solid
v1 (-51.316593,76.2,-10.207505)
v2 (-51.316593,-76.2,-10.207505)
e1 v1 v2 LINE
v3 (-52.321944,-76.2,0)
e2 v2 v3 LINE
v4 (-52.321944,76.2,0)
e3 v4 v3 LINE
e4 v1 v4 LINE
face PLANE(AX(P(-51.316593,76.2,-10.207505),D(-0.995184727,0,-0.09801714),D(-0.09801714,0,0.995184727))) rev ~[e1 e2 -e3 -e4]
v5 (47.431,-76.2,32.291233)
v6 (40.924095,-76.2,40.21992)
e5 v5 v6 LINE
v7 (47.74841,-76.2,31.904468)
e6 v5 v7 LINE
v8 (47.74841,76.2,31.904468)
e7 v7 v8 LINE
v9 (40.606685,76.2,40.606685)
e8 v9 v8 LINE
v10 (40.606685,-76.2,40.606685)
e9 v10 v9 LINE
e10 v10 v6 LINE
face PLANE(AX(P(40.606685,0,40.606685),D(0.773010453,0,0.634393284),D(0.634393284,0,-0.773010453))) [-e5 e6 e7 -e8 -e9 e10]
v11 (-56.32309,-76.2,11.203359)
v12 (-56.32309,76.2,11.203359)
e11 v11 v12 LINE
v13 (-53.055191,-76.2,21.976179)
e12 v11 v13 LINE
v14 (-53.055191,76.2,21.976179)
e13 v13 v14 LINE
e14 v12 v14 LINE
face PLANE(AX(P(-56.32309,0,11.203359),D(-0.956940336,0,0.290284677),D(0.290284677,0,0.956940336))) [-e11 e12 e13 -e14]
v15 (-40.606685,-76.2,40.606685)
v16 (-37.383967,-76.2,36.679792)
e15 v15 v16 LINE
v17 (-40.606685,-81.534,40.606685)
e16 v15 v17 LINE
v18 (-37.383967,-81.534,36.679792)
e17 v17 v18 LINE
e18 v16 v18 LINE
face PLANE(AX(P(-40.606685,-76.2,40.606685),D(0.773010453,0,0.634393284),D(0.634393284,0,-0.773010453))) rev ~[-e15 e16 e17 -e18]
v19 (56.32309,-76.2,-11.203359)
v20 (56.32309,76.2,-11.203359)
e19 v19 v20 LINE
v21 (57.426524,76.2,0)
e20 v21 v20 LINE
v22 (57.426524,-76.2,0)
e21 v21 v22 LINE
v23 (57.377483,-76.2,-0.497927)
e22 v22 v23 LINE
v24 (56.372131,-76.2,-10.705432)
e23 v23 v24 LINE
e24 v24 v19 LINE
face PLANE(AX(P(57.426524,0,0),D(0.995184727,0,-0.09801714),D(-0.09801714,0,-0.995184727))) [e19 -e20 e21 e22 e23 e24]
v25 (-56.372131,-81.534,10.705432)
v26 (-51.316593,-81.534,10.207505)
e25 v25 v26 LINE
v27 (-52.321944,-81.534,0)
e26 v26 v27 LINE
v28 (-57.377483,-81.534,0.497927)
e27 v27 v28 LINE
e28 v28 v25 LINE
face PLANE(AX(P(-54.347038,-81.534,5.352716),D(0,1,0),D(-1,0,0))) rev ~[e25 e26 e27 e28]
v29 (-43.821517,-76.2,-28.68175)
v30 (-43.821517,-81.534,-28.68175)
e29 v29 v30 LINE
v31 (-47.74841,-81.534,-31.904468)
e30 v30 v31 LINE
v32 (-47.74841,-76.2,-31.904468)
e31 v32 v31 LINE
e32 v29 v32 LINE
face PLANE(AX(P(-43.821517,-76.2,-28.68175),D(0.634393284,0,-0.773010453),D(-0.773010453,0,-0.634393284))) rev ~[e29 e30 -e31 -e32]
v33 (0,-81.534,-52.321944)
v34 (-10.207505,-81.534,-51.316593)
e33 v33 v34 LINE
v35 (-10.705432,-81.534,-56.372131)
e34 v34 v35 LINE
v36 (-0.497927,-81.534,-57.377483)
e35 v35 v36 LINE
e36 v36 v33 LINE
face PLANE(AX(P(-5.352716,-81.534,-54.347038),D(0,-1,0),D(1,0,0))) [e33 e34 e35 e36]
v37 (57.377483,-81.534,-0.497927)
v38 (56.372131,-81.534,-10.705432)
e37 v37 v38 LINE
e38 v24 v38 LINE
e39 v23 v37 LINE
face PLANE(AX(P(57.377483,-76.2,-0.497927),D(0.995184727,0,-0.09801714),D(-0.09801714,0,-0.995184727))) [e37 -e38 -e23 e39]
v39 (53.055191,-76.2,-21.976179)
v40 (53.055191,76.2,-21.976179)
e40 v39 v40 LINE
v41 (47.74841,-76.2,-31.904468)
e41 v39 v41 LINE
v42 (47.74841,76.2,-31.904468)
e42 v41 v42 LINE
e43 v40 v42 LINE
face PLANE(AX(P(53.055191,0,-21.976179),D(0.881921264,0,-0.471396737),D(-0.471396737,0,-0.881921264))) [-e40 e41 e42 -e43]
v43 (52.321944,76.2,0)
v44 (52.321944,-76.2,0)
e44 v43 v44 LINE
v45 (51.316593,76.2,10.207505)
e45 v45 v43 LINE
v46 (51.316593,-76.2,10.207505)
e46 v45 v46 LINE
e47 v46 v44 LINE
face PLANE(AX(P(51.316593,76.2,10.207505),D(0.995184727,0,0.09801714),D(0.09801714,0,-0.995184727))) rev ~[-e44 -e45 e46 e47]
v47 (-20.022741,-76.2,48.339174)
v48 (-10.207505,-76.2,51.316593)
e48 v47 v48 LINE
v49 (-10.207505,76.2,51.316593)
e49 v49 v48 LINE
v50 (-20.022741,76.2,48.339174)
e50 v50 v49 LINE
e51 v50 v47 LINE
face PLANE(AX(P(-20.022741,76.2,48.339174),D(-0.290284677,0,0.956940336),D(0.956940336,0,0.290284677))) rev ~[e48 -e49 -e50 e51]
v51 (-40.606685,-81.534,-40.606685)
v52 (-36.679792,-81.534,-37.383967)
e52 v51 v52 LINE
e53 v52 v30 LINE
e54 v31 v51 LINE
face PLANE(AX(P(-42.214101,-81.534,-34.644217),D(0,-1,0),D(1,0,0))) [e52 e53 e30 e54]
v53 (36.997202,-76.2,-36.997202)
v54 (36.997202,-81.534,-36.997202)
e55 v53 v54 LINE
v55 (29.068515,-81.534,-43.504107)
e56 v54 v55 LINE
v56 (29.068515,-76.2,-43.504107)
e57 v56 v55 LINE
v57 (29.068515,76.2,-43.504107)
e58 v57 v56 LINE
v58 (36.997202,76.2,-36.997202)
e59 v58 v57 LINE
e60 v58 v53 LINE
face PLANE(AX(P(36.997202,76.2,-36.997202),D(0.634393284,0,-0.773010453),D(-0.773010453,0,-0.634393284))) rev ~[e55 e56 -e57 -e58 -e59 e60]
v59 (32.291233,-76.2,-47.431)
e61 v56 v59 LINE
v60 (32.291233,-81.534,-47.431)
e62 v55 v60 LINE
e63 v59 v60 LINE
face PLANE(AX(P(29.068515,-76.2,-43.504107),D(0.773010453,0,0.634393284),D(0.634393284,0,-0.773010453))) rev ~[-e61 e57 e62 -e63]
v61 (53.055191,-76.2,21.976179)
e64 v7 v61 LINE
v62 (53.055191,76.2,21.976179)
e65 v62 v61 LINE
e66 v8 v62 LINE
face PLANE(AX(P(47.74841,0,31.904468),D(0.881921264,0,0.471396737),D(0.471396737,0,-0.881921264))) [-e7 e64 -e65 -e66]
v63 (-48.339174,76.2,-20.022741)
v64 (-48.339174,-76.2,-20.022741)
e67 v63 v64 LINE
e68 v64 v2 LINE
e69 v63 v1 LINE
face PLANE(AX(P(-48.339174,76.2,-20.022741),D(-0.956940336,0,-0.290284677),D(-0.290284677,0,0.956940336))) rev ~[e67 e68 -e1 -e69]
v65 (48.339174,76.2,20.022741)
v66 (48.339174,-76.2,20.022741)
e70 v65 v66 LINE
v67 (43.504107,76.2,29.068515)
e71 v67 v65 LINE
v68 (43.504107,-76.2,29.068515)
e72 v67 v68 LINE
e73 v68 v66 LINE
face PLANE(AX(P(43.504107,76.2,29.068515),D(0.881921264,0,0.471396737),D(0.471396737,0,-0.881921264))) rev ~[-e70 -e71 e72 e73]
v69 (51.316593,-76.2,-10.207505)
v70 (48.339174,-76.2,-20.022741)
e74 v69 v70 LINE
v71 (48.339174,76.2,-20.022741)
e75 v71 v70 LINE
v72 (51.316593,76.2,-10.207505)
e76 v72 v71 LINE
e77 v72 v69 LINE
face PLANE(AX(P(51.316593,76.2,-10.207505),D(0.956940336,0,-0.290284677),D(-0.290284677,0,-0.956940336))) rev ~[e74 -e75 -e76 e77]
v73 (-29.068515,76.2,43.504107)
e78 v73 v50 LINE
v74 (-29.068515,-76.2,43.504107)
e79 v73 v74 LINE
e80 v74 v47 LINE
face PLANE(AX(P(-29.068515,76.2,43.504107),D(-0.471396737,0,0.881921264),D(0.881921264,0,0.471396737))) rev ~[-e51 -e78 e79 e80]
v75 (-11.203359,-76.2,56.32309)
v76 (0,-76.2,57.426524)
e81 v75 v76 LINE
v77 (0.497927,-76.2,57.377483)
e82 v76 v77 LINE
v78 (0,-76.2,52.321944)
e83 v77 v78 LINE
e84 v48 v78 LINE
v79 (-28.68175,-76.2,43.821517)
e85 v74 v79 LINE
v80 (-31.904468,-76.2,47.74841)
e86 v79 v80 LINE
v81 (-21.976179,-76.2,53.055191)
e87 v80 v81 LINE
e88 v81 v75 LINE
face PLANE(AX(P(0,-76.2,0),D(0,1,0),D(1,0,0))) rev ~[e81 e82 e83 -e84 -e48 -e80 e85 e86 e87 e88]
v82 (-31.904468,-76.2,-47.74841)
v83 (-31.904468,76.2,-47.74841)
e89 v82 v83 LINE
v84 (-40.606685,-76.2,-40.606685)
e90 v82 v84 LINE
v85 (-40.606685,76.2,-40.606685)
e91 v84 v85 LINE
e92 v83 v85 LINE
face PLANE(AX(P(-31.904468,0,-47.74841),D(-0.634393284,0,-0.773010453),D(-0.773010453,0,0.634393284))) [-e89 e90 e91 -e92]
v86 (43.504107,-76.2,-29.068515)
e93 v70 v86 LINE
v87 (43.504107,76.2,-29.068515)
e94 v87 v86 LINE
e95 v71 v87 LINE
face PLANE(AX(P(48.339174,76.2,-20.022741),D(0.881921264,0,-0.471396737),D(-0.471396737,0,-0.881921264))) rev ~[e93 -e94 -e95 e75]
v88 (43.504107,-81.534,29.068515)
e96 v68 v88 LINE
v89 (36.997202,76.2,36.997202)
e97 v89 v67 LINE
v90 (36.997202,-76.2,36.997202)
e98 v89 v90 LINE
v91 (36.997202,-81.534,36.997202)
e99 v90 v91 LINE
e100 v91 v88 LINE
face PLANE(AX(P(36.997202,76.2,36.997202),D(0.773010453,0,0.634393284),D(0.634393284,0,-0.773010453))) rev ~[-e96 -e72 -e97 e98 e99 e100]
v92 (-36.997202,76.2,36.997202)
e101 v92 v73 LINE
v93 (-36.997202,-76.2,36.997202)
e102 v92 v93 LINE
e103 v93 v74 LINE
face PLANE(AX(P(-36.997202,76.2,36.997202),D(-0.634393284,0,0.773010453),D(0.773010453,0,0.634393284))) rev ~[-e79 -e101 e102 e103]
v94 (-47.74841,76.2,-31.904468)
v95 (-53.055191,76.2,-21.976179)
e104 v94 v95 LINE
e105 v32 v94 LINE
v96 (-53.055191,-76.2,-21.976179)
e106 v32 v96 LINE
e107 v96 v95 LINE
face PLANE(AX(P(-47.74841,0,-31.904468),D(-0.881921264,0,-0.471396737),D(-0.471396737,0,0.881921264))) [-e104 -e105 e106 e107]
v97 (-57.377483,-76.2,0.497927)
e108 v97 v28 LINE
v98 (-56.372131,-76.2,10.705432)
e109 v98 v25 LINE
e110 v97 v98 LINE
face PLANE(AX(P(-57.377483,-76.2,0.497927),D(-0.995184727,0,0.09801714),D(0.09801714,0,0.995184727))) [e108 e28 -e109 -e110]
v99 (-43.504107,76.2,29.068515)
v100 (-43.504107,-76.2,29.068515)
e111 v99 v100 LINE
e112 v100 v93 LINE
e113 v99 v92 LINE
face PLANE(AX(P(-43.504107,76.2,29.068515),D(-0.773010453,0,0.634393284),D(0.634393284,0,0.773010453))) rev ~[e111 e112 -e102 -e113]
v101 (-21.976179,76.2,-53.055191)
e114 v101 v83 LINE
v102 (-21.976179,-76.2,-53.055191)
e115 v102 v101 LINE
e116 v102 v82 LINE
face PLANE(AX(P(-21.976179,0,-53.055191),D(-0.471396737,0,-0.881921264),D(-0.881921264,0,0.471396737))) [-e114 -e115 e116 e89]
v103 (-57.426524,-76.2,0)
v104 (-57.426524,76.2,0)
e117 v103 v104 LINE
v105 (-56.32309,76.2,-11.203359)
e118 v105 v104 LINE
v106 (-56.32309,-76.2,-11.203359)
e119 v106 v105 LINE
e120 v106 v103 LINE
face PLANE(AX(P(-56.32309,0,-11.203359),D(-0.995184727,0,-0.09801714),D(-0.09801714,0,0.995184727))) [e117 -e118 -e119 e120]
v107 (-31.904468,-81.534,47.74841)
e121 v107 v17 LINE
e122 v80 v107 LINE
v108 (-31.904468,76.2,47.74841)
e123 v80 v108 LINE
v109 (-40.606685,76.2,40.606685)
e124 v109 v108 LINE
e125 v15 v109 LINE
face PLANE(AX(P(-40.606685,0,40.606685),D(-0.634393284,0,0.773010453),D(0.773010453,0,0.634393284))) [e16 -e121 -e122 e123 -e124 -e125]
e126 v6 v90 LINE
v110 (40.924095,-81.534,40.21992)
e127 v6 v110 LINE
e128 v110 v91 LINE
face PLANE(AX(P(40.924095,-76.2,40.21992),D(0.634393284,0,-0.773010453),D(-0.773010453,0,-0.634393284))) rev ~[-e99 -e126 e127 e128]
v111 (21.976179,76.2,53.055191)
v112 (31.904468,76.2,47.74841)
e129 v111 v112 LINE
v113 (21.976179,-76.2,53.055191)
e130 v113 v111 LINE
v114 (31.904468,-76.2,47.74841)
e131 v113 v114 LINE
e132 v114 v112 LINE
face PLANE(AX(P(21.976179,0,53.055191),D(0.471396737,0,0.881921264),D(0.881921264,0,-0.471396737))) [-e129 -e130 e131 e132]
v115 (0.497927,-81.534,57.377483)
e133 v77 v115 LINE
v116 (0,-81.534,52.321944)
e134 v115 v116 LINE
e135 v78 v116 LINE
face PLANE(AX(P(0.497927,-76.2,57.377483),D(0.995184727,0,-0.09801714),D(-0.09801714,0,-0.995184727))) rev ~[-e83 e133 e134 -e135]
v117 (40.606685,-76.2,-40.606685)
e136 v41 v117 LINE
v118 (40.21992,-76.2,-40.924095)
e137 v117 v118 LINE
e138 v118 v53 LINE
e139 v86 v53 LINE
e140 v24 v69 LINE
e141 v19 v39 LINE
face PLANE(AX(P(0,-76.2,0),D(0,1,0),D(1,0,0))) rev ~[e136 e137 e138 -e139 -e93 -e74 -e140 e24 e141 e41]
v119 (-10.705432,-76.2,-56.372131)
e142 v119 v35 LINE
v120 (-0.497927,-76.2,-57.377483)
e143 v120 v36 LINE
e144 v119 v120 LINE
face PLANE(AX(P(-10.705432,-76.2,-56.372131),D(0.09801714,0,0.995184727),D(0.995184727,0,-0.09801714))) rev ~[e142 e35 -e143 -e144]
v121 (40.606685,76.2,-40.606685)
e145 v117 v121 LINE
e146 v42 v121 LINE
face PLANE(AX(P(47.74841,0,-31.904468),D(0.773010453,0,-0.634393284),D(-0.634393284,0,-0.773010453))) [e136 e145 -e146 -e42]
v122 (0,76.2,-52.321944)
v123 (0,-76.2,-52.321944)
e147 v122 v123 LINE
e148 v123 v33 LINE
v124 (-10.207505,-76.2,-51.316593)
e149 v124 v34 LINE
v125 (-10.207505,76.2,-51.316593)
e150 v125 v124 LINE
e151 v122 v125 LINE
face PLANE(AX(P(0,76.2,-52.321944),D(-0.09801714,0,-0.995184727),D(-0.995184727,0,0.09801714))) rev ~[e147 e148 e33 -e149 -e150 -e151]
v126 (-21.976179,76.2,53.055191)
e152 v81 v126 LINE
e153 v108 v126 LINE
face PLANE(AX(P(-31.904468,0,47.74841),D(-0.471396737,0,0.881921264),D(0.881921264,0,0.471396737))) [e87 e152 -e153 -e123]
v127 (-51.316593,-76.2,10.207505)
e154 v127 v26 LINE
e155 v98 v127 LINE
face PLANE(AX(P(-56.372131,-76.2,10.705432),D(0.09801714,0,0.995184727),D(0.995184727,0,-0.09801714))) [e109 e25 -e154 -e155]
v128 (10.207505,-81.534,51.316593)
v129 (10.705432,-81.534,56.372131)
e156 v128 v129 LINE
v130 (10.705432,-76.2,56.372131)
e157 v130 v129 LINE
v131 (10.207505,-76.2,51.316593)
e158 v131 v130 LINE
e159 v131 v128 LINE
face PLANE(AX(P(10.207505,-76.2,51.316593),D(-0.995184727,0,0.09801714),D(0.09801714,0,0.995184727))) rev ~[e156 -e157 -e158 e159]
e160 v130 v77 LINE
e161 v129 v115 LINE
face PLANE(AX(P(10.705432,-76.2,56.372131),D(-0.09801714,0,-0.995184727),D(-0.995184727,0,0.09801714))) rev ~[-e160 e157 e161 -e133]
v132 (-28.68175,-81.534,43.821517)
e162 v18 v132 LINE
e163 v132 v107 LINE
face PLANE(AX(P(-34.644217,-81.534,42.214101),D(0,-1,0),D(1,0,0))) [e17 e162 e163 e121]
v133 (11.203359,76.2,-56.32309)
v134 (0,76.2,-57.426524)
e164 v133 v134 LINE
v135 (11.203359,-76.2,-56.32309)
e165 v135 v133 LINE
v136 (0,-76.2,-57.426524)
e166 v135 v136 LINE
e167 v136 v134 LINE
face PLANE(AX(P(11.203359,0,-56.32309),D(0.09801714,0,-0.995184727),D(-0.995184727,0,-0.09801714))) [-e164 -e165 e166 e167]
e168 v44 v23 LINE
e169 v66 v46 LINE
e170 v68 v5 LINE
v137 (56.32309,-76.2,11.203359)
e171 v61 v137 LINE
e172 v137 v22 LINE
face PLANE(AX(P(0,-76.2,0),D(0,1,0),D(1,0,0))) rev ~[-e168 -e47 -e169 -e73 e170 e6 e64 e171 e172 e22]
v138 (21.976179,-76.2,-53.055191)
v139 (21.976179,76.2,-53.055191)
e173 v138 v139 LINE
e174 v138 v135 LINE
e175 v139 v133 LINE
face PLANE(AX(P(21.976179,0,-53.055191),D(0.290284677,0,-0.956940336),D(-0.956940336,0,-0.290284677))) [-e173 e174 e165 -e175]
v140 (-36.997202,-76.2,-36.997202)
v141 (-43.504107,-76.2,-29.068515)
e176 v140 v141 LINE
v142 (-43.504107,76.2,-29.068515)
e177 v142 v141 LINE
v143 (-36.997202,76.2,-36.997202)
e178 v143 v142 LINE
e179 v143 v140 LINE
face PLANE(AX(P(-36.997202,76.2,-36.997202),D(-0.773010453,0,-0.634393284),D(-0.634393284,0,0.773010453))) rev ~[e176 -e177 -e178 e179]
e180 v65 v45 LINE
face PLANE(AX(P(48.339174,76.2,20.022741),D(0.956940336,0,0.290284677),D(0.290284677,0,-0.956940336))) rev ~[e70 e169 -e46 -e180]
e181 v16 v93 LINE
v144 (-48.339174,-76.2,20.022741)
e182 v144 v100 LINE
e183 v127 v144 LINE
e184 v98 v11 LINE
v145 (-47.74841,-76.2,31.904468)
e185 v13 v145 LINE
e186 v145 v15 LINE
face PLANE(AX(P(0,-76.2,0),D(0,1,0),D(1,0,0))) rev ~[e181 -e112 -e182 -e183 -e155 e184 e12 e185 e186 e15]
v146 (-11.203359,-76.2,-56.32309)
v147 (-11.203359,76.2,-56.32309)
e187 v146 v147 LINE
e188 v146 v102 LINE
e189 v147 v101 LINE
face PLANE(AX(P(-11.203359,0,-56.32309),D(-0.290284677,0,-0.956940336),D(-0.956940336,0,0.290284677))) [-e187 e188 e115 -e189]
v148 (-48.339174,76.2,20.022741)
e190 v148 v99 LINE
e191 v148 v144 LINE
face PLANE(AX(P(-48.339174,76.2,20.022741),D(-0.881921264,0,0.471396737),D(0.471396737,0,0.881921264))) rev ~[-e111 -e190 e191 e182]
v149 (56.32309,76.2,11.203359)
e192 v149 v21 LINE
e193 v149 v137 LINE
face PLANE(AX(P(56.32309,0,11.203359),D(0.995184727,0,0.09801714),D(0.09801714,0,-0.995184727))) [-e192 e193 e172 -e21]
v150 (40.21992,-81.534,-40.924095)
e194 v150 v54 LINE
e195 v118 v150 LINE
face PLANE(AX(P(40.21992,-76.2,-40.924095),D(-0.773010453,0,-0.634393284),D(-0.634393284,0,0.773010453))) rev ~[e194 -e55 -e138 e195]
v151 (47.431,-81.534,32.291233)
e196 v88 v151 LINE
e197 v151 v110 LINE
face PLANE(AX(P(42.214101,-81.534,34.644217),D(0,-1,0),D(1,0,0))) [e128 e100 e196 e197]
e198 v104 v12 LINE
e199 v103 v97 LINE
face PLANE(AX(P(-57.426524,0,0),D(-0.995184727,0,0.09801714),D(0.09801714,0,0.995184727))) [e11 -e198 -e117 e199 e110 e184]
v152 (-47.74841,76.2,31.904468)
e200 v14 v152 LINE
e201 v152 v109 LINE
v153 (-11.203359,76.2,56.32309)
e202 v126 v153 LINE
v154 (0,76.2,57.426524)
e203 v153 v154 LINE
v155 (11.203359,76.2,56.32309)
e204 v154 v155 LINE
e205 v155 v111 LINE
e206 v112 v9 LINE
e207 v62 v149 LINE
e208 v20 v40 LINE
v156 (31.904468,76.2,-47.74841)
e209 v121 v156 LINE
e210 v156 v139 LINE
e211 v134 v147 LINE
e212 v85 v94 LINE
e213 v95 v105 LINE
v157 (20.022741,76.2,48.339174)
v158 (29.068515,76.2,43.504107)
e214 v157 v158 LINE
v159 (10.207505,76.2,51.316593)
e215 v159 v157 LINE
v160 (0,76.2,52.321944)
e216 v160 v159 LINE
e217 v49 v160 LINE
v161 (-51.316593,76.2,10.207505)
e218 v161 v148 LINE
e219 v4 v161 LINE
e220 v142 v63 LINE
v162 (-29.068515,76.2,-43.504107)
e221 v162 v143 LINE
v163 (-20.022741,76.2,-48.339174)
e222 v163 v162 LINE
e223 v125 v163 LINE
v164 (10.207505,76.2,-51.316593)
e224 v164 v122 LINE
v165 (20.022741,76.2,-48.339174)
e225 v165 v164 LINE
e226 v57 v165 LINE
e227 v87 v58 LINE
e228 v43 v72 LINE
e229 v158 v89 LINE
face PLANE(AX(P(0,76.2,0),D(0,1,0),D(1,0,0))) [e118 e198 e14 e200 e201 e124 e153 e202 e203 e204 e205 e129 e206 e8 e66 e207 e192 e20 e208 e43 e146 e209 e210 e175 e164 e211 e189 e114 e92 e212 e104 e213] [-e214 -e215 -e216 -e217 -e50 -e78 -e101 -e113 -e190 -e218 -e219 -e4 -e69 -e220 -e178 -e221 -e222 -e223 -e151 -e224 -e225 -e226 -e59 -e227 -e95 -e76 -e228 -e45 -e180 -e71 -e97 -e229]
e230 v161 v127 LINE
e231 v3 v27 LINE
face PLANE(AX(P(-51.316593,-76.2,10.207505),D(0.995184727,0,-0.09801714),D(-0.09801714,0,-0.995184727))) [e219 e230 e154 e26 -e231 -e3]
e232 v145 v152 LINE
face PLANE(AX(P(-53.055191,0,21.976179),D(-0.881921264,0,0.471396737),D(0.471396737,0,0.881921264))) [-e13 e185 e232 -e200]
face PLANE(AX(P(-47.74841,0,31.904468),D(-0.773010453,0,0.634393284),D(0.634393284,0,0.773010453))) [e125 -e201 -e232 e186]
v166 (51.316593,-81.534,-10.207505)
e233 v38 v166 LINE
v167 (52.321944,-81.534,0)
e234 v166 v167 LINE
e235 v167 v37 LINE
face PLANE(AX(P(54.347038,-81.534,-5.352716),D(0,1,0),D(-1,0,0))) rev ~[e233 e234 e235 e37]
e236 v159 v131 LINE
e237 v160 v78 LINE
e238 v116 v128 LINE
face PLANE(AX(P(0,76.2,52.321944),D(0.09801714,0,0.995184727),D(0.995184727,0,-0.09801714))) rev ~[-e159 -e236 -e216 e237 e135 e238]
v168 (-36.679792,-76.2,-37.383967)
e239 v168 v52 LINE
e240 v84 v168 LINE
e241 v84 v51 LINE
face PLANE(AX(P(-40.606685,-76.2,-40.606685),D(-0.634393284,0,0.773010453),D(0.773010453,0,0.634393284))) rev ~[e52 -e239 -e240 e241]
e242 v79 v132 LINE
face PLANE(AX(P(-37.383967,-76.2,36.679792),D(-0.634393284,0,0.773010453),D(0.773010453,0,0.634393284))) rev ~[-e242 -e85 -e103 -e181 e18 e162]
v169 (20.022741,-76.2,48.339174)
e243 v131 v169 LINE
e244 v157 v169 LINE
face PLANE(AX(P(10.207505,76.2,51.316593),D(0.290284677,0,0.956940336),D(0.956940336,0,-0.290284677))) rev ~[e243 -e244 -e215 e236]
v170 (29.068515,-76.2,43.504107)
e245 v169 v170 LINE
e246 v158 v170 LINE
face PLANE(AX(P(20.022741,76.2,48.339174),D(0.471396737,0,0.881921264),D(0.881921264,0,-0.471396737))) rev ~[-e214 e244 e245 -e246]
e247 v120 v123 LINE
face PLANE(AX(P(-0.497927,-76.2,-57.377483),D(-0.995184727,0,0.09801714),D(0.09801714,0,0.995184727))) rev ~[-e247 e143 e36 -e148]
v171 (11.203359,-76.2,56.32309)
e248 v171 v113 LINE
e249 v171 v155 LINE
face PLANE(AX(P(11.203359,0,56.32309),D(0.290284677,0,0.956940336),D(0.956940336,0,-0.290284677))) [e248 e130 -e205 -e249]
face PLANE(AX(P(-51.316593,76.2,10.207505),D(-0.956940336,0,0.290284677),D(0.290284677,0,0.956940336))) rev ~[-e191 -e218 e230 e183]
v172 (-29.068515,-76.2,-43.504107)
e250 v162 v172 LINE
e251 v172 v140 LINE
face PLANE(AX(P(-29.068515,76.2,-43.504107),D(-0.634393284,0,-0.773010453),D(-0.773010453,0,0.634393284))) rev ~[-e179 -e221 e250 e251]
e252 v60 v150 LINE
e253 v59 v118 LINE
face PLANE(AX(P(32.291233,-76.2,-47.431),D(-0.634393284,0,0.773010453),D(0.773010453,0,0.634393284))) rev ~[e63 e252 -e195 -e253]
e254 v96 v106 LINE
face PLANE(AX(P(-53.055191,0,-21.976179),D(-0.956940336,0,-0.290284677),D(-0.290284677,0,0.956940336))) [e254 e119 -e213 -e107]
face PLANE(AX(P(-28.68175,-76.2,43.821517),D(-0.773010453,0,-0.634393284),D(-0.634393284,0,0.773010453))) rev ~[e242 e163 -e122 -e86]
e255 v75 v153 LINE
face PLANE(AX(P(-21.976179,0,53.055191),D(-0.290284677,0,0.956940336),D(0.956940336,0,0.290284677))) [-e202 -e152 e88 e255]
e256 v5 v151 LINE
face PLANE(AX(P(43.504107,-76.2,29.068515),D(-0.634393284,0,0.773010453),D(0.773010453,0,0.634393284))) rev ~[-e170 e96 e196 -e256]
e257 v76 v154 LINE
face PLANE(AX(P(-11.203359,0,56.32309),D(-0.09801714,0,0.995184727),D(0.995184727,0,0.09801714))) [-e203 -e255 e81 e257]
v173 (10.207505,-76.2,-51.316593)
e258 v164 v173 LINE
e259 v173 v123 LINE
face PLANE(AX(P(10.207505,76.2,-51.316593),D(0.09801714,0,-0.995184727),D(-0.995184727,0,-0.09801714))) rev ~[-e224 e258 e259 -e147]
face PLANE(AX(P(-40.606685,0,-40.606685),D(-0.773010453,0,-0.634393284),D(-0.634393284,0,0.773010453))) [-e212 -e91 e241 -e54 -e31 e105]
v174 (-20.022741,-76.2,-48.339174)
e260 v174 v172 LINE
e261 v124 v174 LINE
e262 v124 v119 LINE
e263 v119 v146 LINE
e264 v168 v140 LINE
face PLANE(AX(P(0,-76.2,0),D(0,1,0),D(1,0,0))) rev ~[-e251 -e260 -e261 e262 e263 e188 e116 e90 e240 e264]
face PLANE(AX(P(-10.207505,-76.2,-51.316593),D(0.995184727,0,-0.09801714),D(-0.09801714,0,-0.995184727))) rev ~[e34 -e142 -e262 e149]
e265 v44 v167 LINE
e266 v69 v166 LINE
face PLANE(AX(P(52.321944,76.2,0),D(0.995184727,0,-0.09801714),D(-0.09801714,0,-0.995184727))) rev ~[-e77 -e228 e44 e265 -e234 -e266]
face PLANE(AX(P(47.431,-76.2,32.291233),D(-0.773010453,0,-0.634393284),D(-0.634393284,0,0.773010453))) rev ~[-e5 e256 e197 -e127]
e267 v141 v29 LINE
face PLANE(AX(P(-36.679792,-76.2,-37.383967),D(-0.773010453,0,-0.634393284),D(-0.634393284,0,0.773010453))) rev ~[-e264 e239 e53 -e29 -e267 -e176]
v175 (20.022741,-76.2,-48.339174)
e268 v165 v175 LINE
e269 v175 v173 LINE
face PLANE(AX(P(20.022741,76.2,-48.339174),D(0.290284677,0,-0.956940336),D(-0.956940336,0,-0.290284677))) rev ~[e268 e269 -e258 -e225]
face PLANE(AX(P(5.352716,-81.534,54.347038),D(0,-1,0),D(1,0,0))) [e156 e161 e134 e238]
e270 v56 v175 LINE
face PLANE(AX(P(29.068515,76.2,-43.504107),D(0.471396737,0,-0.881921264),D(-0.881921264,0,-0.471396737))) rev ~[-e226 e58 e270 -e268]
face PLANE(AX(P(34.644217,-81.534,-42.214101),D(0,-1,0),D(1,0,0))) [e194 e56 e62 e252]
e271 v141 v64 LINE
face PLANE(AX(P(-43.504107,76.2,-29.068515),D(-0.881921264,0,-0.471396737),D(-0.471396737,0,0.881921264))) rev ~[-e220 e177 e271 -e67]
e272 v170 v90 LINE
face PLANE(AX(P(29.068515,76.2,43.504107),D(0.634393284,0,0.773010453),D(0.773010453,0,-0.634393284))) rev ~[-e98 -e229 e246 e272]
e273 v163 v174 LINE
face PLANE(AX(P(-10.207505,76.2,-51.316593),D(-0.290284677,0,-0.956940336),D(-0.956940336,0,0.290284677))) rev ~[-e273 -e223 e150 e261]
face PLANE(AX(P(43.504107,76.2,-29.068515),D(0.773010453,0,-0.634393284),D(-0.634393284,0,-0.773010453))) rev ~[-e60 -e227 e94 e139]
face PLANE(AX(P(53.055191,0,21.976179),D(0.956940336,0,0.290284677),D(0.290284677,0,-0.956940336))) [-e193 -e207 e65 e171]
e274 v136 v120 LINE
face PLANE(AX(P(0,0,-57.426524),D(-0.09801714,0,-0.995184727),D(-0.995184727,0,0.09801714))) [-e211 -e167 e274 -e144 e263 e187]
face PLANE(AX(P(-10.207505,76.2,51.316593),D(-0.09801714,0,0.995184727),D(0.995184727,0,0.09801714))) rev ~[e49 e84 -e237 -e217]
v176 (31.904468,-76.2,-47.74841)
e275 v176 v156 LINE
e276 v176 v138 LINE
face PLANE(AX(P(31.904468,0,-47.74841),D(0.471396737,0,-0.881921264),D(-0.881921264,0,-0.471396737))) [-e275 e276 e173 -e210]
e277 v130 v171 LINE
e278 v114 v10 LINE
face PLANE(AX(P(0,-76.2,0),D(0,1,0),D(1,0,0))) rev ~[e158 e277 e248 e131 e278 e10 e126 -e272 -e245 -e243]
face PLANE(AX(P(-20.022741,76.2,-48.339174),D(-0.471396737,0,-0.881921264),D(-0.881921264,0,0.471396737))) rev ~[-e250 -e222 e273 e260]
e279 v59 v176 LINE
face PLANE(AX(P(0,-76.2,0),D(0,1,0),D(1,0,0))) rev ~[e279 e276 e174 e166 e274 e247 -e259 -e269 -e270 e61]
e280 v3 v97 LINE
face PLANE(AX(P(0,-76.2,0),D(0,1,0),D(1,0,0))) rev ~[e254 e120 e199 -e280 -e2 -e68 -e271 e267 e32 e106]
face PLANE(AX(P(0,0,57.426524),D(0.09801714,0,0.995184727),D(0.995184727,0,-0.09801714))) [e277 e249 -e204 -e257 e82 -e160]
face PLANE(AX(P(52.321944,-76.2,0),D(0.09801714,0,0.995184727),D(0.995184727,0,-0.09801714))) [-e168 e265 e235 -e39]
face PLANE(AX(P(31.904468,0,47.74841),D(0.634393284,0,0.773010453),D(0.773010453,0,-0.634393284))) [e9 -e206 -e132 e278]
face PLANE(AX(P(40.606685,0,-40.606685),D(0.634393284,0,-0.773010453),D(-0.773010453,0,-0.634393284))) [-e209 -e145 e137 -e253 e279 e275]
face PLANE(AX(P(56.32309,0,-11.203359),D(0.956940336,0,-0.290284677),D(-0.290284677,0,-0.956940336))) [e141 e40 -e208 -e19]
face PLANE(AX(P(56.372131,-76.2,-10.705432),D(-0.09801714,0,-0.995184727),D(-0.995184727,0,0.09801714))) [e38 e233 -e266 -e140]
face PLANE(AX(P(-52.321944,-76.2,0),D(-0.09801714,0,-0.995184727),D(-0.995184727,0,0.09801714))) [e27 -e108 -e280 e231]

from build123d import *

# Parameters (mm, degrees)
BOSS_EXTRUDE1_DEPTH = 76.2
CUT_EXTRUDE1_DEPTH  = 173.688654555
BOSS_EXTRUDE2_DEPTH = 5.334


with BuildPart() as part:
    # Sketch4 → Boss-Extrude1 (new, symmetric)
    with BuildSketch(Plane(origin=(0, 0, 0), x_dir=(1, 0, 0), z_dir=(0, 1, 0))):
        Polygon((57.426524411, 0), (56.323089847, 11.20335914), (53.055190527, 21.976179471), (47.748409988, 31.904467549), (40.606684831, 40.606684831), (31.904467549, 47.748409988), (21.976179471, 53.055190527), (11.20335914, 56.323089847), (0, 57.426524411), (-11.20335914, 56.323089847), (-21.976179471, 53.055190527), (-31.904467549, 47.748409988), (-40.606684831, 40.606684831), (-47.748409988, 31.904467549), (-53.055190527, 21.976179471), (-56.323089847, 11.20335914), (-57.426524411, 0), (-56.323089847, -11.20335914), (-53.055190527, -21.976179471), (-47.748409988, -31.904467549), (-40.606684831, -40.606684831), (-31.904467549, -47.748409988), (-21.976179471, -53.055190527), (-11.20335914, -56.323089847), (0, -57.426524411), (11.20335914, -56.323089847), (21.976179471, -53.055190527), (31.904467549, -47.748409988), (40.606684831, -40.606684831), (47.748409988, -31.904467549), (53.055190527, -21.976179471), (56.323089847, -11.20335914), align=None)
    extrude(amount=BOSS_EXTRUDE1_DEPTH, both=True)

    # Sketch5 → Cut-Extrude1 (cut, through all)
    with BuildSketch(Plane(origin=(0, 76.2, 0), x_dir=(1, 0, 0), z_dir=(0, 1, 0))):
        Polygon((51.316592972, -10.207504994), (52.321944464, 0), (51.316592972, 10.207504994), (48.339173591, 20.022741295), (43.504106878, 29.068514878), (36.997201735, 36.997201735), (29.068514878, 43.504106878), (20.022741295, 48.339173591), (10.207504994, 51.316592972), (0, 52.321944464), (-10.207504994, 51.316592972), (-20.022741295, 48.339173591), (-29.068514878, 43.504106878), (-36.997201735, 36.997201735), (-43.504106878, 29.068514878), (-48.339173591, 20.022741295), (-51.316592972, 10.207504994), (-52.321944464, 0), (-51.316592972, -10.207504994), (-48.339173591, -20.022741295), (-43.504106878, -29.068514878), (-36.997201735, -36.997201735), (-29.068514878, -43.504106878), (-20.022741295, -48.339173591), (-10.207504994, -51.316592972), (0, -52.321944464), (10.207504994, -51.316592972), (20.022741295, -48.339173591), (29.068514878, -43.504106878), (36.997201735, -36.997201735), (43.504106878, -29.068514878), (48.339173591, -20.022741295), align=None)
    extrude(amount=-CUT_EXTRUDE1_DEPTH, mode=Mode.SUBTRACT)

    # Sketch6 → Boss-Extrude2 (add)
    with BuildSketch(Plane.XZ.offset(76.2)):
        Polygon((-51.316592972, 10.207504994), (-52.321944464, 0), (-57.377482875, 0.497927073), (-56.372131384, 10.705432067), align=None)
        Polygon((57.377482875, -0.497927073), (56.372131384, -10.705432067), (51.316592972, -10.207504994), (52.321944464, 0), align=None)
        Polygon((-47.748409988, -31.904467549), (-40.606684831, -40.606684831), (-36.679791728, -37.383966948), (-43.821516885, -28.681749665), align=None)
        Polygon((36.997201735, -36.997201735), (29.068514878, -43.504106878), (32.291232761, -47.430999981), (40.219919619, -40.924094838), align=None)
        Polygon((47.430999981, 32.291232761), (40.924094838, 40.219919619), (36.997201735, 36.997201735), (43.504106878, 29.068514878), align=None)
        Polygon((-37.383966948, 36.679791728), (-28.681749665, 43.821516885), (-31.904467549, 47.748409988), (-40.606684831, 40.606684831), align=None)
        Polygon((0, 52.321944464), (10.207504994, 51.316592972), (10.705432067, 56.372131384), (0.497927073, 57.377482875), align=None)
        Polygon((-10.705432067, -56.372131384), (-0.497927073, -57.377482875), (0, -52.321944464), (-10.207504994, -51.316592972), align=None)
    extrude(amount=BOSS_EXTRUDE2_DEPTH)


solid = part.part
